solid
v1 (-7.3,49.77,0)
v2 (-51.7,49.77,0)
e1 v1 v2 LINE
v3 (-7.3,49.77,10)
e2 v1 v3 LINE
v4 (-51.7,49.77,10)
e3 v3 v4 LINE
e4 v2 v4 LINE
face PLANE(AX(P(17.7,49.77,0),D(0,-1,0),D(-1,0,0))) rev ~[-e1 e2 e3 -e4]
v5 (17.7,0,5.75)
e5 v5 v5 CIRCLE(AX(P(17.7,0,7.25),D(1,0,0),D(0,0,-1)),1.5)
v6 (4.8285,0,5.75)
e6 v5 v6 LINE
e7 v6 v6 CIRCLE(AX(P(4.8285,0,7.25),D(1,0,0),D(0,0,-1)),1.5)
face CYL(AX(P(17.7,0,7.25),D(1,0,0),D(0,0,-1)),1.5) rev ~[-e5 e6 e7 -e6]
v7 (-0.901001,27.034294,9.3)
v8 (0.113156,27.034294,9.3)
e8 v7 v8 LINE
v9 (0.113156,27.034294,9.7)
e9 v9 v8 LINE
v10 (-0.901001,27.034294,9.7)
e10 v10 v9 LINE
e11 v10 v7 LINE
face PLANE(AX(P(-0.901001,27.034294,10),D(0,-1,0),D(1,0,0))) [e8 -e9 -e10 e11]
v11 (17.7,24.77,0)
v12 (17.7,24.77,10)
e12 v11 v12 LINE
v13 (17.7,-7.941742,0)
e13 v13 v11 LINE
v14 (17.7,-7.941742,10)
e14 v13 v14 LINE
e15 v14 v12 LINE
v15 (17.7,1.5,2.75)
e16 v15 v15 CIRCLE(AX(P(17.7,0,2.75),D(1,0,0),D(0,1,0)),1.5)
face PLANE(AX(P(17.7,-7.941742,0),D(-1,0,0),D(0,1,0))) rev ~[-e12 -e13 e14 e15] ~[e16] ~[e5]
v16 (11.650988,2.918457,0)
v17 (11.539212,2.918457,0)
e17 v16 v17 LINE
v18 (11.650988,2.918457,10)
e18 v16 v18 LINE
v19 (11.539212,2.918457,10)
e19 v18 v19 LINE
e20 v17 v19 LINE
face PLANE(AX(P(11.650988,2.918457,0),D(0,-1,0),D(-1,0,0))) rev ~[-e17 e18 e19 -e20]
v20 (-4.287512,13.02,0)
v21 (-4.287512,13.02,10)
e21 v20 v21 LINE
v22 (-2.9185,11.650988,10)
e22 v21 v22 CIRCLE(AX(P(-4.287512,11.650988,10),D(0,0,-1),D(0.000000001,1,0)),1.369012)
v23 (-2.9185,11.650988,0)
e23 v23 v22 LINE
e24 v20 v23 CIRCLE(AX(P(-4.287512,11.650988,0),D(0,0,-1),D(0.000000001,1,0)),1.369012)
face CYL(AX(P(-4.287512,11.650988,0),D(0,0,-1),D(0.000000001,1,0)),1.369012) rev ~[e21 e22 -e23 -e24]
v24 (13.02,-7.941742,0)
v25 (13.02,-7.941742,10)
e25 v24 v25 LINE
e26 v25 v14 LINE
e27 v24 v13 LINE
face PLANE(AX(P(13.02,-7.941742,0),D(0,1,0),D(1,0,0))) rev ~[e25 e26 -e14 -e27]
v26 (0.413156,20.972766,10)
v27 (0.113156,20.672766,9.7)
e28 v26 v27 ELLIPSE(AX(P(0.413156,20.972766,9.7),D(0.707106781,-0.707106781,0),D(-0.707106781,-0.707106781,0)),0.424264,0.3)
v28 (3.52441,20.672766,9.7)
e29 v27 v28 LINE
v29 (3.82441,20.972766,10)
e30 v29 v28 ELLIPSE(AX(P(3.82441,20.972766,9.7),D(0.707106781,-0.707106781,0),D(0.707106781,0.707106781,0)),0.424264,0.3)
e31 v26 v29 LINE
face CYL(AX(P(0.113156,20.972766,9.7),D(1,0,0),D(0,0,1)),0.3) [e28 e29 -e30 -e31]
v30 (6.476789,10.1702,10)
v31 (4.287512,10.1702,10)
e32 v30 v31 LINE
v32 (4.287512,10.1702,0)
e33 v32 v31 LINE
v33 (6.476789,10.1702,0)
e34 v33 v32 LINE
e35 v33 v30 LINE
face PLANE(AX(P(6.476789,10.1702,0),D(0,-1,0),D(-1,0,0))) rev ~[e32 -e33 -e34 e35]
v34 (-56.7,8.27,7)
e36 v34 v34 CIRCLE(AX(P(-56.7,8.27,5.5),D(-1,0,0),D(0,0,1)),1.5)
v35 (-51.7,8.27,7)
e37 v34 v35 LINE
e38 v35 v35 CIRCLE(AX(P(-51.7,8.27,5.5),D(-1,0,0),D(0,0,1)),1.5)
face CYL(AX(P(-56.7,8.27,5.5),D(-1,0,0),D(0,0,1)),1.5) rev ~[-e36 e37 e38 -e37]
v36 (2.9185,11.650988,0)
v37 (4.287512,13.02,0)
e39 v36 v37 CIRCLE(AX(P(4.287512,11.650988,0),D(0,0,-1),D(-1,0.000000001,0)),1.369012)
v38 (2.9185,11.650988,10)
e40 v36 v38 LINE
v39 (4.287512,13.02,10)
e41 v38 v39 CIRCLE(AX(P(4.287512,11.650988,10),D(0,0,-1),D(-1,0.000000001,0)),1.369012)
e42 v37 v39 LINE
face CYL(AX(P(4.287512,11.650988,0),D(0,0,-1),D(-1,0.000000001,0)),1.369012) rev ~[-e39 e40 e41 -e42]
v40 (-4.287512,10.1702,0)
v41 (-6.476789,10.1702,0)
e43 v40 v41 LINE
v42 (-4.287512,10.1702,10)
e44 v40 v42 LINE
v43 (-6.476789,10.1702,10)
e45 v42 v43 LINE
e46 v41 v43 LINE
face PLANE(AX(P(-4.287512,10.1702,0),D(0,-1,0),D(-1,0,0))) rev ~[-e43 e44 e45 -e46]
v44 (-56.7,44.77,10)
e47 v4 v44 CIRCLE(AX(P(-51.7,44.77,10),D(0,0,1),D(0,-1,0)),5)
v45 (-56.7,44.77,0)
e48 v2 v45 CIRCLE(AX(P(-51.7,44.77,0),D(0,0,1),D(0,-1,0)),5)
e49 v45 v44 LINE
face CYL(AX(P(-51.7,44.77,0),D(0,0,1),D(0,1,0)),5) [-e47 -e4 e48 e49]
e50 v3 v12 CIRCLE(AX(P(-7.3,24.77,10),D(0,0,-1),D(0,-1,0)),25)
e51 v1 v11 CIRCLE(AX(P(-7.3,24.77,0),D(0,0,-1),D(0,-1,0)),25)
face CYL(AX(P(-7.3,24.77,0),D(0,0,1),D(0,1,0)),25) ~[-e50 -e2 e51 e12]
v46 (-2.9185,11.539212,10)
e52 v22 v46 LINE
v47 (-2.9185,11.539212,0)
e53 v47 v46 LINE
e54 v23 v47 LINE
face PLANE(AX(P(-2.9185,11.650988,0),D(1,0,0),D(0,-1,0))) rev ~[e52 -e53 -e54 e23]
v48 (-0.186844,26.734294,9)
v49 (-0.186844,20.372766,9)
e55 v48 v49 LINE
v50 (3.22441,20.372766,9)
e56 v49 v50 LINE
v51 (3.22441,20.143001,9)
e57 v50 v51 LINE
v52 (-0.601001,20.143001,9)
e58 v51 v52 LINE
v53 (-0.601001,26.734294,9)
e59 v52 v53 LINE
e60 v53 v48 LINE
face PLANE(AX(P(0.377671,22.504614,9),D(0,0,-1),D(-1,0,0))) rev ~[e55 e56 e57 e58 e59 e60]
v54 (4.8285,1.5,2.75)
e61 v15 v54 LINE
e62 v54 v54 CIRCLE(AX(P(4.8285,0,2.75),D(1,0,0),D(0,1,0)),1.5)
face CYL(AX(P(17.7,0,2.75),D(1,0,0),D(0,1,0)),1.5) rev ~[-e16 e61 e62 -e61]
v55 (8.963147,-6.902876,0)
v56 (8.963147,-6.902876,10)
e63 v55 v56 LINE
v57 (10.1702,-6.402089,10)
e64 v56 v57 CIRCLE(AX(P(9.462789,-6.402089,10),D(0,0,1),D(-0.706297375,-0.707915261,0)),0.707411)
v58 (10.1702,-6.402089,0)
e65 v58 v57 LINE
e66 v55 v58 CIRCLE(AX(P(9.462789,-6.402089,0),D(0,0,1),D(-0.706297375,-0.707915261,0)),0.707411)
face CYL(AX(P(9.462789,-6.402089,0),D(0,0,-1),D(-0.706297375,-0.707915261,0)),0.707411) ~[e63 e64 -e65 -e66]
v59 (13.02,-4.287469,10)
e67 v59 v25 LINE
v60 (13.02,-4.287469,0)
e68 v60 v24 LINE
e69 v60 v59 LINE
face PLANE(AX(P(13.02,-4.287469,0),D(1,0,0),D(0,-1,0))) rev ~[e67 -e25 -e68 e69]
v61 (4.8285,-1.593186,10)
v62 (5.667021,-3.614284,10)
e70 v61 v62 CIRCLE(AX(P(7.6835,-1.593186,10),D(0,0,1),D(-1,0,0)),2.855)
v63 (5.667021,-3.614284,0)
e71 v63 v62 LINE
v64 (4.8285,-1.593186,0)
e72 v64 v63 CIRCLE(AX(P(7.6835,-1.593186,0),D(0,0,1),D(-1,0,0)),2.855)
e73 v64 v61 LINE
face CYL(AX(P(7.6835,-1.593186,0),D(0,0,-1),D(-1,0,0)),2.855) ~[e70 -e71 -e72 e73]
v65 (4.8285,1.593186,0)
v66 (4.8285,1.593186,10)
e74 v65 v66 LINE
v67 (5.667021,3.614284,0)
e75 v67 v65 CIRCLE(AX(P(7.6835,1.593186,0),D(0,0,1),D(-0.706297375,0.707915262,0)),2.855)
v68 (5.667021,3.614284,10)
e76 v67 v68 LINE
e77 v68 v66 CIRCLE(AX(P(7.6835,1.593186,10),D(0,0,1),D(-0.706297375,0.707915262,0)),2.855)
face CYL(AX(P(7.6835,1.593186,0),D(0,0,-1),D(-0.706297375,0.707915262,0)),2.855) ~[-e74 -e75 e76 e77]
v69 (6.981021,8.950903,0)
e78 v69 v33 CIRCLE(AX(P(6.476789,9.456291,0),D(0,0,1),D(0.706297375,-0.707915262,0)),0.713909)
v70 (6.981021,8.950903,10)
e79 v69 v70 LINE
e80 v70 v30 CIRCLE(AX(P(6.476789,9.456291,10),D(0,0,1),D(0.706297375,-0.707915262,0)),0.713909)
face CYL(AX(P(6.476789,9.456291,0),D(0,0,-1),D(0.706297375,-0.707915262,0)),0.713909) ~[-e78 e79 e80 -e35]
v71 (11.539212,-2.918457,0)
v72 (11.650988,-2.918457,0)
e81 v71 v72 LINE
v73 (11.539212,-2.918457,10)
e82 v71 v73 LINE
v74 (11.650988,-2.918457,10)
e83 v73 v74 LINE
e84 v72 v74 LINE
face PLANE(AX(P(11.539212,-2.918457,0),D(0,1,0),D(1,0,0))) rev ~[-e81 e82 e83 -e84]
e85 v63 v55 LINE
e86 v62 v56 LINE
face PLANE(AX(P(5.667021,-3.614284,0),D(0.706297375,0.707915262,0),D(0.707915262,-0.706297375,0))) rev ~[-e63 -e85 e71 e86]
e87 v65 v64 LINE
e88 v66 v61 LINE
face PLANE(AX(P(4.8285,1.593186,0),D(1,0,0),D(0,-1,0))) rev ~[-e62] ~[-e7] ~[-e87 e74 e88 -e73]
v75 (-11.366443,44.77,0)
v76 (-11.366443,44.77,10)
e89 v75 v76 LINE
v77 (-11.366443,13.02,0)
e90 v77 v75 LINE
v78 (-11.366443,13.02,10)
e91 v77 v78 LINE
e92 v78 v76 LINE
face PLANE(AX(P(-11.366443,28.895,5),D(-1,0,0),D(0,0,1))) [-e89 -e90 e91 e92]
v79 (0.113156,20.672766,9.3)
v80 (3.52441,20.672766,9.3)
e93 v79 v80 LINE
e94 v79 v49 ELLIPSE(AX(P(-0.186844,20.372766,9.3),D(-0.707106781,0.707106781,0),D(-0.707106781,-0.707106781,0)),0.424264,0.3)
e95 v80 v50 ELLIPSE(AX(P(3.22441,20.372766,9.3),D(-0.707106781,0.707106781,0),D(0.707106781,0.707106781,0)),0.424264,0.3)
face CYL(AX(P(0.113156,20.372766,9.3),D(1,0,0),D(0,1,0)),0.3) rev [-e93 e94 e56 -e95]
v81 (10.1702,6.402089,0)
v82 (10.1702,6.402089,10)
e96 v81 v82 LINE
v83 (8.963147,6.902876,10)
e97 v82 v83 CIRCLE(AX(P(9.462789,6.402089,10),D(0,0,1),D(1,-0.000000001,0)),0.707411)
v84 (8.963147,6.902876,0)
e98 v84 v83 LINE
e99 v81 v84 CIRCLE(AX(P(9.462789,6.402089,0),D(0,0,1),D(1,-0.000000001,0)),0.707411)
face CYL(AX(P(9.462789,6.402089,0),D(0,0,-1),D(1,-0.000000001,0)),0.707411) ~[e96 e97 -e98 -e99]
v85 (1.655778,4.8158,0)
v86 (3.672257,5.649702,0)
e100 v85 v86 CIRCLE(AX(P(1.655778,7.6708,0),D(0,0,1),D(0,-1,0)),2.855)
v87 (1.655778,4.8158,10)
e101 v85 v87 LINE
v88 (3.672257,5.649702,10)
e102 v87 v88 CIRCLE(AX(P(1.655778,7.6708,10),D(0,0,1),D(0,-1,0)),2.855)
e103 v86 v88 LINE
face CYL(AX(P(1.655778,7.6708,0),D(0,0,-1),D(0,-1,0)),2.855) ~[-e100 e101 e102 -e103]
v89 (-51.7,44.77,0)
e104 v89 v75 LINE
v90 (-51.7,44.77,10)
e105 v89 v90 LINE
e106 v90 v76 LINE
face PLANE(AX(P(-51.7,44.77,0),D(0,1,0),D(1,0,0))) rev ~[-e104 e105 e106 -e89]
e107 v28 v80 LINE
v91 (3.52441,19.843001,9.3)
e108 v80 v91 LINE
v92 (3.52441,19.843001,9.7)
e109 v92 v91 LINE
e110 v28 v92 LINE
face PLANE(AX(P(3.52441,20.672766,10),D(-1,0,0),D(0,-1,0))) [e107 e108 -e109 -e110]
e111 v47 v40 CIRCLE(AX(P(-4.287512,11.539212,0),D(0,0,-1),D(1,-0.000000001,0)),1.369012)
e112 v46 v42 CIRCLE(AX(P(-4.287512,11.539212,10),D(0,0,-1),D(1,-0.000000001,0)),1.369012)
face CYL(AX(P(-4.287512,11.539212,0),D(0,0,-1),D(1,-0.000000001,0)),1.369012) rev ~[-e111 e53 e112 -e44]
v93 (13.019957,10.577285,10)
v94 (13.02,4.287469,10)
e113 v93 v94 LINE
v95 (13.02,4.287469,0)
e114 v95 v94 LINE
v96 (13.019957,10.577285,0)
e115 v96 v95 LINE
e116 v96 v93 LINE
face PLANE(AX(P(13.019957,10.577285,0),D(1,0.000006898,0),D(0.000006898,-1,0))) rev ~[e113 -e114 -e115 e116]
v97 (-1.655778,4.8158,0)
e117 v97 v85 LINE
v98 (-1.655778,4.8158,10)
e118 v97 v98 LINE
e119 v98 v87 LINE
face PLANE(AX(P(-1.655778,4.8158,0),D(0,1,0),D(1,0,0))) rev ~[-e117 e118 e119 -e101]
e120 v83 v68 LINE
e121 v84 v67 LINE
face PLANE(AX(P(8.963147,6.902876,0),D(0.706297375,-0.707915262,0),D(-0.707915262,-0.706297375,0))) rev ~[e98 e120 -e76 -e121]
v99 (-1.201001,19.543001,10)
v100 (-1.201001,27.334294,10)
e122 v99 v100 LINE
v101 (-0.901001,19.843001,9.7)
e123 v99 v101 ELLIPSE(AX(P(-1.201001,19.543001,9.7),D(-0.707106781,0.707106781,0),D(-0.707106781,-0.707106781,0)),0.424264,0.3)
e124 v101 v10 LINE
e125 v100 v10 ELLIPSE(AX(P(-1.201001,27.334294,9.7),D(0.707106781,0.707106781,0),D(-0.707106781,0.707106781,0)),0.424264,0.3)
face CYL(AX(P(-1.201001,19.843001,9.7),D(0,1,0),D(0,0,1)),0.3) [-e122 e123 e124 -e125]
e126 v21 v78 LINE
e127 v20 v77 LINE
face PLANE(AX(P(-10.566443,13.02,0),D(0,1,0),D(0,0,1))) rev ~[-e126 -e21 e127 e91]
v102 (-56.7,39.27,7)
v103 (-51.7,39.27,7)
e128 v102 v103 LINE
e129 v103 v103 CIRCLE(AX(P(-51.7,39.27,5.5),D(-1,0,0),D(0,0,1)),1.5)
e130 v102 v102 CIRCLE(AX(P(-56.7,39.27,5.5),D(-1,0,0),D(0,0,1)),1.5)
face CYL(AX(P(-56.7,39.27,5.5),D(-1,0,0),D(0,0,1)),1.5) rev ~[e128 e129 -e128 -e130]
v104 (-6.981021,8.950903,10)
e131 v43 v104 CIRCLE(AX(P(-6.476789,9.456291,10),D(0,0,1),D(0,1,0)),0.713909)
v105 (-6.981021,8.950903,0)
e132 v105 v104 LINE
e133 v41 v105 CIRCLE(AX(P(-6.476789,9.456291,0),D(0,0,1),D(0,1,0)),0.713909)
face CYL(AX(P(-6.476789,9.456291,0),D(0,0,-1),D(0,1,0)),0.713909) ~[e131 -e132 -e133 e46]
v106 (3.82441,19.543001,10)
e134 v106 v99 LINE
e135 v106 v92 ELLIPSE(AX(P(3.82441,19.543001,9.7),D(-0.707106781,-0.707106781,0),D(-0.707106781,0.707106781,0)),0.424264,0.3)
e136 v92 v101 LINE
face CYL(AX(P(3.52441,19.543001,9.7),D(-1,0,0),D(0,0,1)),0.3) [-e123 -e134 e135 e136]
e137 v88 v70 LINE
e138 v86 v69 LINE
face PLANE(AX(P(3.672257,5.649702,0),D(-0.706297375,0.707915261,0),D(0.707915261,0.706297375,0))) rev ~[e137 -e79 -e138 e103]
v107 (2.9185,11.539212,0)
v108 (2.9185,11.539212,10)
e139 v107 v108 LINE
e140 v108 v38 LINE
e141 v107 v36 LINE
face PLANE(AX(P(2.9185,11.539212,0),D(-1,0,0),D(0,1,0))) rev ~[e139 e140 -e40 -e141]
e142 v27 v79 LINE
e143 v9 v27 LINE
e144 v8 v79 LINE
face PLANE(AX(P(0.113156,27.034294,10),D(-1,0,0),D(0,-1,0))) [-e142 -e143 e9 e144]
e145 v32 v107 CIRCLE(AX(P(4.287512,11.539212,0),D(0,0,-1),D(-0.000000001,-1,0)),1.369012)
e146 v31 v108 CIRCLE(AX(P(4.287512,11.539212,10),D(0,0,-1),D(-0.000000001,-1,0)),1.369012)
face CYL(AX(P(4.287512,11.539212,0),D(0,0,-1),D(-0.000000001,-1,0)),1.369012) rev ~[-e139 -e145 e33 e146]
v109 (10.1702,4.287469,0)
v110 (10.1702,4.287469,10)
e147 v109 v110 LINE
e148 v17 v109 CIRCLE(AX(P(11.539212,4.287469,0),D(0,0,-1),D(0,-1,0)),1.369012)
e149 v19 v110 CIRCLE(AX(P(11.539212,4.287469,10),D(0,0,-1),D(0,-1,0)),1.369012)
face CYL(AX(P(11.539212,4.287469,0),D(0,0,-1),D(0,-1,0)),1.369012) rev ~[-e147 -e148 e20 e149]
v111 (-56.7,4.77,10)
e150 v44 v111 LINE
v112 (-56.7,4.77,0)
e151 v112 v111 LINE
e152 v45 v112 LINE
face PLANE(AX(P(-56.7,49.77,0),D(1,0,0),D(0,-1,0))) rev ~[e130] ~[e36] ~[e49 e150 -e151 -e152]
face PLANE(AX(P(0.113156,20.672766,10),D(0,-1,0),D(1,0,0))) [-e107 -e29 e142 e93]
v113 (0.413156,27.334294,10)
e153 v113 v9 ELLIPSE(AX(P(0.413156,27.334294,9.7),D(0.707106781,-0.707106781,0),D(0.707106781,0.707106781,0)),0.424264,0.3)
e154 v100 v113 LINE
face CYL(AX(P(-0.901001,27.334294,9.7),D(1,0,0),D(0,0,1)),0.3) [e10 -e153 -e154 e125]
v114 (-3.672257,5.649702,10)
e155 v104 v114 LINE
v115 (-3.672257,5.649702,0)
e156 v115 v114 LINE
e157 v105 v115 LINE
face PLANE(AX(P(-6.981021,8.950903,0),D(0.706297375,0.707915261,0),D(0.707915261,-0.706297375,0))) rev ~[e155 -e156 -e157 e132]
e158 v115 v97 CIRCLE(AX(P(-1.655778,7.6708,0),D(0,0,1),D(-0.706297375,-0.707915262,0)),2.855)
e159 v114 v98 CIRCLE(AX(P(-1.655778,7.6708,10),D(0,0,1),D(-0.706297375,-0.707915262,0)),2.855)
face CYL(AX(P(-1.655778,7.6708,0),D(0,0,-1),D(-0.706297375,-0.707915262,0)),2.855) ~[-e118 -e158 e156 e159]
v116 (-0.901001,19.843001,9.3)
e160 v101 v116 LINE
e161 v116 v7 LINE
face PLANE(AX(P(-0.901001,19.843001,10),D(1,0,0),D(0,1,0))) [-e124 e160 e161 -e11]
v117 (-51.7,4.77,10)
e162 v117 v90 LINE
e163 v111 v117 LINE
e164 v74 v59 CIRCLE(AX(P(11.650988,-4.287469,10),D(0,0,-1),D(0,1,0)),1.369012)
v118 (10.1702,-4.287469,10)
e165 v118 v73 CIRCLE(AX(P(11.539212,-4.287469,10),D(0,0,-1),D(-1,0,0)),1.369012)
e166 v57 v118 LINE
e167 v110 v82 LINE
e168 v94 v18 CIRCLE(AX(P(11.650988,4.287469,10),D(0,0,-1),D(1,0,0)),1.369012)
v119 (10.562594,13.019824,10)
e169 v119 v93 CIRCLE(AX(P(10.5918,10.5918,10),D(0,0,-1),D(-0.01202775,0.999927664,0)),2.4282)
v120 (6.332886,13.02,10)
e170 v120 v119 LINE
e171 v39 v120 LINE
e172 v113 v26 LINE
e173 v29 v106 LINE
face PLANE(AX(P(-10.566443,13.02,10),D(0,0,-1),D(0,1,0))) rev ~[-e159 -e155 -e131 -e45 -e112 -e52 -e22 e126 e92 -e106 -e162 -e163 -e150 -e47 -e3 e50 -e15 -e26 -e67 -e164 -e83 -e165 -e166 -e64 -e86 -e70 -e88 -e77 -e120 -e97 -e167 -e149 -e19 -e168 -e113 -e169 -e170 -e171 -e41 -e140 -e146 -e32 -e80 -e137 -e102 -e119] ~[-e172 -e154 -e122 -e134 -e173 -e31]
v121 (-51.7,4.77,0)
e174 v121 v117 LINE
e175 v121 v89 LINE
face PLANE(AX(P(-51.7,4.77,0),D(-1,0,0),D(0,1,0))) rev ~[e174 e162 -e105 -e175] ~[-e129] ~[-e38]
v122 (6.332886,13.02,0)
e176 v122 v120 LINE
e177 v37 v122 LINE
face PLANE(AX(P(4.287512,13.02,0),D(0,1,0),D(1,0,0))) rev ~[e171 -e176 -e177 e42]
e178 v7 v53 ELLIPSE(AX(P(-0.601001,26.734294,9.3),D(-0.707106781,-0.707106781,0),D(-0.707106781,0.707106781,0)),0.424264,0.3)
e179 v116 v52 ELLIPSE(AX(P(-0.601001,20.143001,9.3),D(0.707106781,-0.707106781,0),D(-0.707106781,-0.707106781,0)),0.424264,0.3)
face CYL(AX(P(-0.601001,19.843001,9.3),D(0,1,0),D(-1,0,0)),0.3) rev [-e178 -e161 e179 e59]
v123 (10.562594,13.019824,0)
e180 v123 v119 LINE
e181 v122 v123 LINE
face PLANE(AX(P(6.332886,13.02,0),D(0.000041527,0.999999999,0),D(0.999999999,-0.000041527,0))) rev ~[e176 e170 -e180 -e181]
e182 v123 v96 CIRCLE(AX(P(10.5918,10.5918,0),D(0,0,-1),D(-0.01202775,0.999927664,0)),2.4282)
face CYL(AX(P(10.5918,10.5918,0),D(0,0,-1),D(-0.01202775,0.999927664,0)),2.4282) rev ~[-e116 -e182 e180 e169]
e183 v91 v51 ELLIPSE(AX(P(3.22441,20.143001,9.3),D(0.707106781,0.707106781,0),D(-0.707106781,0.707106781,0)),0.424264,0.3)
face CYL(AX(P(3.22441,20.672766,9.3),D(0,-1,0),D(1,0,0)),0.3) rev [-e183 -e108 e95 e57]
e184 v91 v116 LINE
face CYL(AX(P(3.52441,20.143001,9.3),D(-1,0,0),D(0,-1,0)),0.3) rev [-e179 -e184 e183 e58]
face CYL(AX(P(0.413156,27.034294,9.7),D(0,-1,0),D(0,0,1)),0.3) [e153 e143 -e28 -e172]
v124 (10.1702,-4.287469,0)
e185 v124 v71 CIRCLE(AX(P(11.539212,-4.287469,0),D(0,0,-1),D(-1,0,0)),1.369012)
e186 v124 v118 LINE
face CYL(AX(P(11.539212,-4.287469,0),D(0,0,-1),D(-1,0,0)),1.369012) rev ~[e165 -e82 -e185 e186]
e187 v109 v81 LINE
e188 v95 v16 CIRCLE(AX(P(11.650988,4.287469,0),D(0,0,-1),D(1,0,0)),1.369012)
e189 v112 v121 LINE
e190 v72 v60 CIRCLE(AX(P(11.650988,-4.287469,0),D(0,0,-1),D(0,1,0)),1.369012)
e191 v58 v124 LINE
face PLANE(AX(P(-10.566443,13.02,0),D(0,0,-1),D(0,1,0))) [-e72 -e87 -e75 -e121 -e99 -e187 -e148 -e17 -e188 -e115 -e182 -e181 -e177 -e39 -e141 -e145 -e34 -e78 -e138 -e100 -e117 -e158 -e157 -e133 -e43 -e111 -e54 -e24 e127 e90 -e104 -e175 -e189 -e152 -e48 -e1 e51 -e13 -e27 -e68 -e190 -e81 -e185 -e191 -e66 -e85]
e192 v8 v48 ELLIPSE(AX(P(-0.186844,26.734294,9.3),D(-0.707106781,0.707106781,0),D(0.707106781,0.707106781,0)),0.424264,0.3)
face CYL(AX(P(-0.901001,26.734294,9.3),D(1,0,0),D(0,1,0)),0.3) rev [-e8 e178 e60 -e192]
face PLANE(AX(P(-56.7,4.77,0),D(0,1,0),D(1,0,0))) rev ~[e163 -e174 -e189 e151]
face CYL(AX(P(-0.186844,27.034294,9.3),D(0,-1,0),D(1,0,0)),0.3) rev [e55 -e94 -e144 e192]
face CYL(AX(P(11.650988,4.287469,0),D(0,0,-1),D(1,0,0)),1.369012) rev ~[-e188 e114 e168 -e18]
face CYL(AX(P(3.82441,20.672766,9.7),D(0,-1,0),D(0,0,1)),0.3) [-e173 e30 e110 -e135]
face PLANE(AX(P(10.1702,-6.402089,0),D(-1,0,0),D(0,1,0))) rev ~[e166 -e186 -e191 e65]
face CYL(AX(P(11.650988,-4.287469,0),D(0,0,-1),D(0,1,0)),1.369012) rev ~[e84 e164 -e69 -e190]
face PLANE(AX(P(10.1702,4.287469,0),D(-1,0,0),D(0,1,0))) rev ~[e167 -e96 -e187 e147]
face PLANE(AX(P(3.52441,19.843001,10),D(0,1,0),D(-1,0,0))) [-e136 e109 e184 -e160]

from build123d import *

# Parameters (mm, degrees)
BOSS_EXTRUDE1_DEPTH = 10
CUT_EXTRUDE1_REACH  = 92.069
SKETCH2_R           = 1.5
FILLET3_R           = 5
CUT_EXTRUDE2_REACH  = 92.069
SKETCH3_R           = 1.5
FILLET4_R           = 25
CUT_EXTRUDE7_DEPTH  = 1
FILLET8_R           = 0.3
SKETCH8_W           = 10
SKETCH8_H           = 31.75
BOSS_EXTRUDE2_DEPTH = 0.8


with BuildPart() as part:
    # Sketch1 → Boss-Extrude1 (new body)
    with BuildSketch(Plane.XY):
        with BuildLine():
            Line((13.02, -7.9417418), (17.7, -7.9417418))
            Line((17.7, -7.9417418), (17.7, 49.77))
            Line((17.7, 49.77), (-56.7, 49.77))
            Line((-56.7, 49.77), (-56.7, 4.77))
            Line((-56.7, 4.77), (-51.7, 4.77))
            Line((-51.7, 4.77), (-51.7, 44.77))
            Line((-51.7, 44.77), (-10.566443095, 44.77))
            Line((-10.566443095, 44.77), (-10.566443095, 13.02))
            Line((-10.566443095, 13.02), (-5.317126718, 13.02))
            Line((-5.317126718, 13.02), (-4.287512407, 13.02))
            ThreePointArc((-4.287512407, 13.02), (-3.319474451, 12.619025549), (-2.9185, 11.650987593))
            Line((-2.9185, 11.650987593), (-2.9185, 11.539212407))
            ThreePointArc((-2.9185, 11.539212407), (-3.319474451, 10.571174451), (-4.287512407, 10.1702))
            Line((-4.287512407, 10.1702), (-6.476788598, 10.1702))
            ThreePointArc((-6.476788598, 10.1702), (-7.136510935, 9.729114651), (-6.981020848, 8.950903446))
            Line((-6.981020848, 8.950903446), (-3.672257405, 5.649701928))
            ThreePointArc((-3.672257405, 5.649701928), (-2.746830644, 5.032499411), (-1.655778399, 4.8158))
            Line((-1.655778399, 4.8158), (1.655778399, 4.8158))
            ThreePointArc((1.655778399, 4.8158), (2.746830644, 5.032499411), (3.672257405, 5.649701928))
            Line((3.672257405, 5.649701928), (6.981020848, 8.950903446))
            ThreePointArc((6.981020848, 8.950903446), (7.136510935, 9.729114651), (6.476788598, 10.1702))
            Line((6.476788598, 10.1702), (4.287512407, 10.1702))
            ThreePointArc((4.287512407, 10.1702), (3.319474451, 10.571174451), (2.9185, 11.539212407))
            Line((2.9185, 11.539212407), (2.9185, 11.650987593))
            ThreePointArc((2.9185, 11.650987593), (3.319474451, 12.619025549), (4.287512407, 13.02))
            Line((4.287512407, 13.02), (6.332886163, 13.02))
            Line((6.332886163, 13.02), (10.562594215, 13.019824354))
            ThreePointArc((10.562594215, 13.019824354), (12.303594776, 12.313982883), (13.019956614, 10.577284622))
            Line((13.019956614, 10.577284622), (13.02, 4.287469289))
            ThreePointArc((13.02, 4.287469289), (12.619025549, 3.319431332), (11.650987593, 2.918456882))
            Line((11.650987593, 2.918456882), (11.539212407, 2.918456882))
            ThreePointArc((11.539212407, 2.918456882), (10.571174451, 3.319431332), (10.1702, 4.287469289))
            Line((10.1702, 4.287469289), (10.1702, 6.402089023))
            ThreePointArc((10.1702, 6.402089023), (9.733877283, 7.055496588), (8.963146507, 6.90287605))
            Line((8.963146507, 6.90287605), (5.667020993, 3.614283579))
            ThreePointArc((5.667020993, 3.614283579), (5.046449321, 2.687255303), (4.8285, 1.593185507))
            Line((4.8285, 1.593185507), (4.8285, -1.593185507))
            ThreePointArc((4.8285, -1.593185507), (5.046449321, -2.687255303), (5.667020993, -3.614283579))
            Line((5.667020993, -3.614283579), (8.963146507, -6.90287605))
            ThreePointArc((8.963146507, -6.90287605), (9.733877283, -7.055496588), (10.1702, -6.402089023))
            Line((10.1702, -6.402089023), (10.1702, -4.287469289))
            ThreePointArc((10.1702, -4.287469289), (10.571174451, -3.319431332), (11.539212407, -2.918456882))
            Line((11.539212407, -2.918456882), (11.650987593, -2.918456882))
            ThreePointArc((11.650987593, -2.918456882), (12.619025549, -3.319431332), (13.02, -4.287469289))
            Line((13.02, -4.287469289), (13.02, -5.3170836))
            Line((13.02, -5.3170836), (13.02, -7.9417418))
        make_face()
    extrude(amount=BOSS_EXTRUDE1_DEPTH)

    # Sketch2 → Cut-Extrude1 (cut, up to next)
    with BuildSketch(Plane.ZY.offset(56.7), mode=Mode.PRIVATE) as cut_extrude1_sk1:
        with Locations((5.5, 8.27)):
            Circle(SKETCH2_R)
    cut_extrude1_tool1 = extrude(cut_extrude1_sk1.sketch, amount=-CUT_EXTRUDE1_REACH, mode=Mode.PRIVATE) & part.part
    # Sketch2 → Cut-Extrude1 (cut, up to next)
    with BuildSketch(Plane.ZY.offset(56.7), mode=Mode.PRIVATE) as cut_extrude1_sk2:
        with Locations((5.5, 39.27)):
            Circle(SKETCH2_R)
    cut_extrude1_tool2 = extrude(cut_extrude1_sk2.sketch, amount=-CUT_EXTRUDE1_REACH, mode=Mode.PRIVATE) & part.part
    add(cut_extrude1_tool1.solids().sort_by_distance((-56.7, 8.27, 5.5))[0], mode=Mode.SUBTRACT)
    add(cut_extrude1_tool2.solids().sort_by_distance((-56.7, 39.27, 5.5))[0], mode=Mode.SUBTRACT)

    # Fillet3
    fillet3_edges = [part.edges().sort_by_distance(p)[0] for p in [
        (-56.7, 49.77, 5),
    ]]
    fillet(fillet3_edges, radius=FILLET3_R)

    # Sketch3 → Cut-Extrude2 (cut, up to next)
    with BuildSketch(Plane(origin=(17.7, 0, 0), x_dir=(0, 0, -1), z_dir=(1, 0, 0)), mode=Mode.PRIVATE) as cut_extrude2_sk1:
        with Locations((-7.25, 0)):
            Circle(SKETCH3_R)
    cut_extrude2_tool1 = extrude(cut_extrude2_sk1.sketch, amount=-CUT_EXTRUDE2_REACH, mode=Mode.PRIVATE) & part.part
    # Sketch3 → Cut-Extrude2 (cut, up to next)
    with BuildSketch(Plane(origin=(17.7, 0, 0), x_dir=(0, 0, -1), z_dir=(1, 0, 0)), mode=Mode.PRIVATE) as cut_extrude2_sk2:
        with Locations(Location((-2.75, 0, 0), (0, 0, 90))):
            Circle(SKETCH3_R)
    cut_extrude2_tool2 = extrude(cut_extrude2_sk2.sketch, amount=-CUT_EXTRUDE2_REACH, mode=Mode.PRIVATE) & part.part
    add(cut_extrude2_tool1.solids().sort_by_distance((17.7, 0, 7.25))[0], mode=Mode.SUBTRACT)
    add(cut_extrude2_tool2.solids().sort_by_distance((17.7, 0, 2.75))[0], mode=Mode.SUBTRACT)

    # Fillet4
    fillet4_edges = [part.edges().sort_by_distance(p)[0] for p in [
        (17.7, 49.77, 5),
    ]]
    fillet(fillet4_edges, radius=FILLET4_R)

    # Sketch7 → Cut-Extrude7 (cut)
    with BuildSketch(Plane.XY.offset(10)):
        Polygon((-0.90100078, 19.84300121), (-0.90100078, 27.034293528), (0.113155829, 27.034293528), (0.113155829, 20.672765708), (3.524409877, 20.672765708), (3.524409877, 19.84300121), align=None)
    extrude(amount=-CUT_EXTRUDE7_DEPTH, mode=Mode.SUBTRACT)

    # Fillet8
    fillet8_edges = [part.edges().sort_by_distance(p)[0] for p in [
        (1.311704549, 19.84300121, 10),
        (-0.90100078, 23.438647369, 10),
        (-0.393922475, 27.034293528, 10),
        (0.113155829, 23.853529618, 10),
        (1.818782853, 20.672765708, 10),
        (3.524409877, 20.257883459, 10),
        (1.311704549, 19.84300121, 9),
        (-0.90100078, 23.438647369, 9),
        (-0.393922475, 27.034293528, 9),
        (0.113155829, 23.853529618, 9),
        (1.818782853, 20.672765708, 9),
        (3.524409877, 20.257883459, 9),
    ]]
    fillet(fillet8_edges, radius=FILLET8_R)

    # Sketch8 → Boss-Extrude2 (add)
    with BuildSketch(Plane.ZY.offset(10.566443095)):
        with Locations((5, 28.895)):
            Rectangle(SKETCH8_W, SKETCH8_H)
    extrude(amount=BOSS_EXTRUDE2_DEPTH)


solid = part.part
